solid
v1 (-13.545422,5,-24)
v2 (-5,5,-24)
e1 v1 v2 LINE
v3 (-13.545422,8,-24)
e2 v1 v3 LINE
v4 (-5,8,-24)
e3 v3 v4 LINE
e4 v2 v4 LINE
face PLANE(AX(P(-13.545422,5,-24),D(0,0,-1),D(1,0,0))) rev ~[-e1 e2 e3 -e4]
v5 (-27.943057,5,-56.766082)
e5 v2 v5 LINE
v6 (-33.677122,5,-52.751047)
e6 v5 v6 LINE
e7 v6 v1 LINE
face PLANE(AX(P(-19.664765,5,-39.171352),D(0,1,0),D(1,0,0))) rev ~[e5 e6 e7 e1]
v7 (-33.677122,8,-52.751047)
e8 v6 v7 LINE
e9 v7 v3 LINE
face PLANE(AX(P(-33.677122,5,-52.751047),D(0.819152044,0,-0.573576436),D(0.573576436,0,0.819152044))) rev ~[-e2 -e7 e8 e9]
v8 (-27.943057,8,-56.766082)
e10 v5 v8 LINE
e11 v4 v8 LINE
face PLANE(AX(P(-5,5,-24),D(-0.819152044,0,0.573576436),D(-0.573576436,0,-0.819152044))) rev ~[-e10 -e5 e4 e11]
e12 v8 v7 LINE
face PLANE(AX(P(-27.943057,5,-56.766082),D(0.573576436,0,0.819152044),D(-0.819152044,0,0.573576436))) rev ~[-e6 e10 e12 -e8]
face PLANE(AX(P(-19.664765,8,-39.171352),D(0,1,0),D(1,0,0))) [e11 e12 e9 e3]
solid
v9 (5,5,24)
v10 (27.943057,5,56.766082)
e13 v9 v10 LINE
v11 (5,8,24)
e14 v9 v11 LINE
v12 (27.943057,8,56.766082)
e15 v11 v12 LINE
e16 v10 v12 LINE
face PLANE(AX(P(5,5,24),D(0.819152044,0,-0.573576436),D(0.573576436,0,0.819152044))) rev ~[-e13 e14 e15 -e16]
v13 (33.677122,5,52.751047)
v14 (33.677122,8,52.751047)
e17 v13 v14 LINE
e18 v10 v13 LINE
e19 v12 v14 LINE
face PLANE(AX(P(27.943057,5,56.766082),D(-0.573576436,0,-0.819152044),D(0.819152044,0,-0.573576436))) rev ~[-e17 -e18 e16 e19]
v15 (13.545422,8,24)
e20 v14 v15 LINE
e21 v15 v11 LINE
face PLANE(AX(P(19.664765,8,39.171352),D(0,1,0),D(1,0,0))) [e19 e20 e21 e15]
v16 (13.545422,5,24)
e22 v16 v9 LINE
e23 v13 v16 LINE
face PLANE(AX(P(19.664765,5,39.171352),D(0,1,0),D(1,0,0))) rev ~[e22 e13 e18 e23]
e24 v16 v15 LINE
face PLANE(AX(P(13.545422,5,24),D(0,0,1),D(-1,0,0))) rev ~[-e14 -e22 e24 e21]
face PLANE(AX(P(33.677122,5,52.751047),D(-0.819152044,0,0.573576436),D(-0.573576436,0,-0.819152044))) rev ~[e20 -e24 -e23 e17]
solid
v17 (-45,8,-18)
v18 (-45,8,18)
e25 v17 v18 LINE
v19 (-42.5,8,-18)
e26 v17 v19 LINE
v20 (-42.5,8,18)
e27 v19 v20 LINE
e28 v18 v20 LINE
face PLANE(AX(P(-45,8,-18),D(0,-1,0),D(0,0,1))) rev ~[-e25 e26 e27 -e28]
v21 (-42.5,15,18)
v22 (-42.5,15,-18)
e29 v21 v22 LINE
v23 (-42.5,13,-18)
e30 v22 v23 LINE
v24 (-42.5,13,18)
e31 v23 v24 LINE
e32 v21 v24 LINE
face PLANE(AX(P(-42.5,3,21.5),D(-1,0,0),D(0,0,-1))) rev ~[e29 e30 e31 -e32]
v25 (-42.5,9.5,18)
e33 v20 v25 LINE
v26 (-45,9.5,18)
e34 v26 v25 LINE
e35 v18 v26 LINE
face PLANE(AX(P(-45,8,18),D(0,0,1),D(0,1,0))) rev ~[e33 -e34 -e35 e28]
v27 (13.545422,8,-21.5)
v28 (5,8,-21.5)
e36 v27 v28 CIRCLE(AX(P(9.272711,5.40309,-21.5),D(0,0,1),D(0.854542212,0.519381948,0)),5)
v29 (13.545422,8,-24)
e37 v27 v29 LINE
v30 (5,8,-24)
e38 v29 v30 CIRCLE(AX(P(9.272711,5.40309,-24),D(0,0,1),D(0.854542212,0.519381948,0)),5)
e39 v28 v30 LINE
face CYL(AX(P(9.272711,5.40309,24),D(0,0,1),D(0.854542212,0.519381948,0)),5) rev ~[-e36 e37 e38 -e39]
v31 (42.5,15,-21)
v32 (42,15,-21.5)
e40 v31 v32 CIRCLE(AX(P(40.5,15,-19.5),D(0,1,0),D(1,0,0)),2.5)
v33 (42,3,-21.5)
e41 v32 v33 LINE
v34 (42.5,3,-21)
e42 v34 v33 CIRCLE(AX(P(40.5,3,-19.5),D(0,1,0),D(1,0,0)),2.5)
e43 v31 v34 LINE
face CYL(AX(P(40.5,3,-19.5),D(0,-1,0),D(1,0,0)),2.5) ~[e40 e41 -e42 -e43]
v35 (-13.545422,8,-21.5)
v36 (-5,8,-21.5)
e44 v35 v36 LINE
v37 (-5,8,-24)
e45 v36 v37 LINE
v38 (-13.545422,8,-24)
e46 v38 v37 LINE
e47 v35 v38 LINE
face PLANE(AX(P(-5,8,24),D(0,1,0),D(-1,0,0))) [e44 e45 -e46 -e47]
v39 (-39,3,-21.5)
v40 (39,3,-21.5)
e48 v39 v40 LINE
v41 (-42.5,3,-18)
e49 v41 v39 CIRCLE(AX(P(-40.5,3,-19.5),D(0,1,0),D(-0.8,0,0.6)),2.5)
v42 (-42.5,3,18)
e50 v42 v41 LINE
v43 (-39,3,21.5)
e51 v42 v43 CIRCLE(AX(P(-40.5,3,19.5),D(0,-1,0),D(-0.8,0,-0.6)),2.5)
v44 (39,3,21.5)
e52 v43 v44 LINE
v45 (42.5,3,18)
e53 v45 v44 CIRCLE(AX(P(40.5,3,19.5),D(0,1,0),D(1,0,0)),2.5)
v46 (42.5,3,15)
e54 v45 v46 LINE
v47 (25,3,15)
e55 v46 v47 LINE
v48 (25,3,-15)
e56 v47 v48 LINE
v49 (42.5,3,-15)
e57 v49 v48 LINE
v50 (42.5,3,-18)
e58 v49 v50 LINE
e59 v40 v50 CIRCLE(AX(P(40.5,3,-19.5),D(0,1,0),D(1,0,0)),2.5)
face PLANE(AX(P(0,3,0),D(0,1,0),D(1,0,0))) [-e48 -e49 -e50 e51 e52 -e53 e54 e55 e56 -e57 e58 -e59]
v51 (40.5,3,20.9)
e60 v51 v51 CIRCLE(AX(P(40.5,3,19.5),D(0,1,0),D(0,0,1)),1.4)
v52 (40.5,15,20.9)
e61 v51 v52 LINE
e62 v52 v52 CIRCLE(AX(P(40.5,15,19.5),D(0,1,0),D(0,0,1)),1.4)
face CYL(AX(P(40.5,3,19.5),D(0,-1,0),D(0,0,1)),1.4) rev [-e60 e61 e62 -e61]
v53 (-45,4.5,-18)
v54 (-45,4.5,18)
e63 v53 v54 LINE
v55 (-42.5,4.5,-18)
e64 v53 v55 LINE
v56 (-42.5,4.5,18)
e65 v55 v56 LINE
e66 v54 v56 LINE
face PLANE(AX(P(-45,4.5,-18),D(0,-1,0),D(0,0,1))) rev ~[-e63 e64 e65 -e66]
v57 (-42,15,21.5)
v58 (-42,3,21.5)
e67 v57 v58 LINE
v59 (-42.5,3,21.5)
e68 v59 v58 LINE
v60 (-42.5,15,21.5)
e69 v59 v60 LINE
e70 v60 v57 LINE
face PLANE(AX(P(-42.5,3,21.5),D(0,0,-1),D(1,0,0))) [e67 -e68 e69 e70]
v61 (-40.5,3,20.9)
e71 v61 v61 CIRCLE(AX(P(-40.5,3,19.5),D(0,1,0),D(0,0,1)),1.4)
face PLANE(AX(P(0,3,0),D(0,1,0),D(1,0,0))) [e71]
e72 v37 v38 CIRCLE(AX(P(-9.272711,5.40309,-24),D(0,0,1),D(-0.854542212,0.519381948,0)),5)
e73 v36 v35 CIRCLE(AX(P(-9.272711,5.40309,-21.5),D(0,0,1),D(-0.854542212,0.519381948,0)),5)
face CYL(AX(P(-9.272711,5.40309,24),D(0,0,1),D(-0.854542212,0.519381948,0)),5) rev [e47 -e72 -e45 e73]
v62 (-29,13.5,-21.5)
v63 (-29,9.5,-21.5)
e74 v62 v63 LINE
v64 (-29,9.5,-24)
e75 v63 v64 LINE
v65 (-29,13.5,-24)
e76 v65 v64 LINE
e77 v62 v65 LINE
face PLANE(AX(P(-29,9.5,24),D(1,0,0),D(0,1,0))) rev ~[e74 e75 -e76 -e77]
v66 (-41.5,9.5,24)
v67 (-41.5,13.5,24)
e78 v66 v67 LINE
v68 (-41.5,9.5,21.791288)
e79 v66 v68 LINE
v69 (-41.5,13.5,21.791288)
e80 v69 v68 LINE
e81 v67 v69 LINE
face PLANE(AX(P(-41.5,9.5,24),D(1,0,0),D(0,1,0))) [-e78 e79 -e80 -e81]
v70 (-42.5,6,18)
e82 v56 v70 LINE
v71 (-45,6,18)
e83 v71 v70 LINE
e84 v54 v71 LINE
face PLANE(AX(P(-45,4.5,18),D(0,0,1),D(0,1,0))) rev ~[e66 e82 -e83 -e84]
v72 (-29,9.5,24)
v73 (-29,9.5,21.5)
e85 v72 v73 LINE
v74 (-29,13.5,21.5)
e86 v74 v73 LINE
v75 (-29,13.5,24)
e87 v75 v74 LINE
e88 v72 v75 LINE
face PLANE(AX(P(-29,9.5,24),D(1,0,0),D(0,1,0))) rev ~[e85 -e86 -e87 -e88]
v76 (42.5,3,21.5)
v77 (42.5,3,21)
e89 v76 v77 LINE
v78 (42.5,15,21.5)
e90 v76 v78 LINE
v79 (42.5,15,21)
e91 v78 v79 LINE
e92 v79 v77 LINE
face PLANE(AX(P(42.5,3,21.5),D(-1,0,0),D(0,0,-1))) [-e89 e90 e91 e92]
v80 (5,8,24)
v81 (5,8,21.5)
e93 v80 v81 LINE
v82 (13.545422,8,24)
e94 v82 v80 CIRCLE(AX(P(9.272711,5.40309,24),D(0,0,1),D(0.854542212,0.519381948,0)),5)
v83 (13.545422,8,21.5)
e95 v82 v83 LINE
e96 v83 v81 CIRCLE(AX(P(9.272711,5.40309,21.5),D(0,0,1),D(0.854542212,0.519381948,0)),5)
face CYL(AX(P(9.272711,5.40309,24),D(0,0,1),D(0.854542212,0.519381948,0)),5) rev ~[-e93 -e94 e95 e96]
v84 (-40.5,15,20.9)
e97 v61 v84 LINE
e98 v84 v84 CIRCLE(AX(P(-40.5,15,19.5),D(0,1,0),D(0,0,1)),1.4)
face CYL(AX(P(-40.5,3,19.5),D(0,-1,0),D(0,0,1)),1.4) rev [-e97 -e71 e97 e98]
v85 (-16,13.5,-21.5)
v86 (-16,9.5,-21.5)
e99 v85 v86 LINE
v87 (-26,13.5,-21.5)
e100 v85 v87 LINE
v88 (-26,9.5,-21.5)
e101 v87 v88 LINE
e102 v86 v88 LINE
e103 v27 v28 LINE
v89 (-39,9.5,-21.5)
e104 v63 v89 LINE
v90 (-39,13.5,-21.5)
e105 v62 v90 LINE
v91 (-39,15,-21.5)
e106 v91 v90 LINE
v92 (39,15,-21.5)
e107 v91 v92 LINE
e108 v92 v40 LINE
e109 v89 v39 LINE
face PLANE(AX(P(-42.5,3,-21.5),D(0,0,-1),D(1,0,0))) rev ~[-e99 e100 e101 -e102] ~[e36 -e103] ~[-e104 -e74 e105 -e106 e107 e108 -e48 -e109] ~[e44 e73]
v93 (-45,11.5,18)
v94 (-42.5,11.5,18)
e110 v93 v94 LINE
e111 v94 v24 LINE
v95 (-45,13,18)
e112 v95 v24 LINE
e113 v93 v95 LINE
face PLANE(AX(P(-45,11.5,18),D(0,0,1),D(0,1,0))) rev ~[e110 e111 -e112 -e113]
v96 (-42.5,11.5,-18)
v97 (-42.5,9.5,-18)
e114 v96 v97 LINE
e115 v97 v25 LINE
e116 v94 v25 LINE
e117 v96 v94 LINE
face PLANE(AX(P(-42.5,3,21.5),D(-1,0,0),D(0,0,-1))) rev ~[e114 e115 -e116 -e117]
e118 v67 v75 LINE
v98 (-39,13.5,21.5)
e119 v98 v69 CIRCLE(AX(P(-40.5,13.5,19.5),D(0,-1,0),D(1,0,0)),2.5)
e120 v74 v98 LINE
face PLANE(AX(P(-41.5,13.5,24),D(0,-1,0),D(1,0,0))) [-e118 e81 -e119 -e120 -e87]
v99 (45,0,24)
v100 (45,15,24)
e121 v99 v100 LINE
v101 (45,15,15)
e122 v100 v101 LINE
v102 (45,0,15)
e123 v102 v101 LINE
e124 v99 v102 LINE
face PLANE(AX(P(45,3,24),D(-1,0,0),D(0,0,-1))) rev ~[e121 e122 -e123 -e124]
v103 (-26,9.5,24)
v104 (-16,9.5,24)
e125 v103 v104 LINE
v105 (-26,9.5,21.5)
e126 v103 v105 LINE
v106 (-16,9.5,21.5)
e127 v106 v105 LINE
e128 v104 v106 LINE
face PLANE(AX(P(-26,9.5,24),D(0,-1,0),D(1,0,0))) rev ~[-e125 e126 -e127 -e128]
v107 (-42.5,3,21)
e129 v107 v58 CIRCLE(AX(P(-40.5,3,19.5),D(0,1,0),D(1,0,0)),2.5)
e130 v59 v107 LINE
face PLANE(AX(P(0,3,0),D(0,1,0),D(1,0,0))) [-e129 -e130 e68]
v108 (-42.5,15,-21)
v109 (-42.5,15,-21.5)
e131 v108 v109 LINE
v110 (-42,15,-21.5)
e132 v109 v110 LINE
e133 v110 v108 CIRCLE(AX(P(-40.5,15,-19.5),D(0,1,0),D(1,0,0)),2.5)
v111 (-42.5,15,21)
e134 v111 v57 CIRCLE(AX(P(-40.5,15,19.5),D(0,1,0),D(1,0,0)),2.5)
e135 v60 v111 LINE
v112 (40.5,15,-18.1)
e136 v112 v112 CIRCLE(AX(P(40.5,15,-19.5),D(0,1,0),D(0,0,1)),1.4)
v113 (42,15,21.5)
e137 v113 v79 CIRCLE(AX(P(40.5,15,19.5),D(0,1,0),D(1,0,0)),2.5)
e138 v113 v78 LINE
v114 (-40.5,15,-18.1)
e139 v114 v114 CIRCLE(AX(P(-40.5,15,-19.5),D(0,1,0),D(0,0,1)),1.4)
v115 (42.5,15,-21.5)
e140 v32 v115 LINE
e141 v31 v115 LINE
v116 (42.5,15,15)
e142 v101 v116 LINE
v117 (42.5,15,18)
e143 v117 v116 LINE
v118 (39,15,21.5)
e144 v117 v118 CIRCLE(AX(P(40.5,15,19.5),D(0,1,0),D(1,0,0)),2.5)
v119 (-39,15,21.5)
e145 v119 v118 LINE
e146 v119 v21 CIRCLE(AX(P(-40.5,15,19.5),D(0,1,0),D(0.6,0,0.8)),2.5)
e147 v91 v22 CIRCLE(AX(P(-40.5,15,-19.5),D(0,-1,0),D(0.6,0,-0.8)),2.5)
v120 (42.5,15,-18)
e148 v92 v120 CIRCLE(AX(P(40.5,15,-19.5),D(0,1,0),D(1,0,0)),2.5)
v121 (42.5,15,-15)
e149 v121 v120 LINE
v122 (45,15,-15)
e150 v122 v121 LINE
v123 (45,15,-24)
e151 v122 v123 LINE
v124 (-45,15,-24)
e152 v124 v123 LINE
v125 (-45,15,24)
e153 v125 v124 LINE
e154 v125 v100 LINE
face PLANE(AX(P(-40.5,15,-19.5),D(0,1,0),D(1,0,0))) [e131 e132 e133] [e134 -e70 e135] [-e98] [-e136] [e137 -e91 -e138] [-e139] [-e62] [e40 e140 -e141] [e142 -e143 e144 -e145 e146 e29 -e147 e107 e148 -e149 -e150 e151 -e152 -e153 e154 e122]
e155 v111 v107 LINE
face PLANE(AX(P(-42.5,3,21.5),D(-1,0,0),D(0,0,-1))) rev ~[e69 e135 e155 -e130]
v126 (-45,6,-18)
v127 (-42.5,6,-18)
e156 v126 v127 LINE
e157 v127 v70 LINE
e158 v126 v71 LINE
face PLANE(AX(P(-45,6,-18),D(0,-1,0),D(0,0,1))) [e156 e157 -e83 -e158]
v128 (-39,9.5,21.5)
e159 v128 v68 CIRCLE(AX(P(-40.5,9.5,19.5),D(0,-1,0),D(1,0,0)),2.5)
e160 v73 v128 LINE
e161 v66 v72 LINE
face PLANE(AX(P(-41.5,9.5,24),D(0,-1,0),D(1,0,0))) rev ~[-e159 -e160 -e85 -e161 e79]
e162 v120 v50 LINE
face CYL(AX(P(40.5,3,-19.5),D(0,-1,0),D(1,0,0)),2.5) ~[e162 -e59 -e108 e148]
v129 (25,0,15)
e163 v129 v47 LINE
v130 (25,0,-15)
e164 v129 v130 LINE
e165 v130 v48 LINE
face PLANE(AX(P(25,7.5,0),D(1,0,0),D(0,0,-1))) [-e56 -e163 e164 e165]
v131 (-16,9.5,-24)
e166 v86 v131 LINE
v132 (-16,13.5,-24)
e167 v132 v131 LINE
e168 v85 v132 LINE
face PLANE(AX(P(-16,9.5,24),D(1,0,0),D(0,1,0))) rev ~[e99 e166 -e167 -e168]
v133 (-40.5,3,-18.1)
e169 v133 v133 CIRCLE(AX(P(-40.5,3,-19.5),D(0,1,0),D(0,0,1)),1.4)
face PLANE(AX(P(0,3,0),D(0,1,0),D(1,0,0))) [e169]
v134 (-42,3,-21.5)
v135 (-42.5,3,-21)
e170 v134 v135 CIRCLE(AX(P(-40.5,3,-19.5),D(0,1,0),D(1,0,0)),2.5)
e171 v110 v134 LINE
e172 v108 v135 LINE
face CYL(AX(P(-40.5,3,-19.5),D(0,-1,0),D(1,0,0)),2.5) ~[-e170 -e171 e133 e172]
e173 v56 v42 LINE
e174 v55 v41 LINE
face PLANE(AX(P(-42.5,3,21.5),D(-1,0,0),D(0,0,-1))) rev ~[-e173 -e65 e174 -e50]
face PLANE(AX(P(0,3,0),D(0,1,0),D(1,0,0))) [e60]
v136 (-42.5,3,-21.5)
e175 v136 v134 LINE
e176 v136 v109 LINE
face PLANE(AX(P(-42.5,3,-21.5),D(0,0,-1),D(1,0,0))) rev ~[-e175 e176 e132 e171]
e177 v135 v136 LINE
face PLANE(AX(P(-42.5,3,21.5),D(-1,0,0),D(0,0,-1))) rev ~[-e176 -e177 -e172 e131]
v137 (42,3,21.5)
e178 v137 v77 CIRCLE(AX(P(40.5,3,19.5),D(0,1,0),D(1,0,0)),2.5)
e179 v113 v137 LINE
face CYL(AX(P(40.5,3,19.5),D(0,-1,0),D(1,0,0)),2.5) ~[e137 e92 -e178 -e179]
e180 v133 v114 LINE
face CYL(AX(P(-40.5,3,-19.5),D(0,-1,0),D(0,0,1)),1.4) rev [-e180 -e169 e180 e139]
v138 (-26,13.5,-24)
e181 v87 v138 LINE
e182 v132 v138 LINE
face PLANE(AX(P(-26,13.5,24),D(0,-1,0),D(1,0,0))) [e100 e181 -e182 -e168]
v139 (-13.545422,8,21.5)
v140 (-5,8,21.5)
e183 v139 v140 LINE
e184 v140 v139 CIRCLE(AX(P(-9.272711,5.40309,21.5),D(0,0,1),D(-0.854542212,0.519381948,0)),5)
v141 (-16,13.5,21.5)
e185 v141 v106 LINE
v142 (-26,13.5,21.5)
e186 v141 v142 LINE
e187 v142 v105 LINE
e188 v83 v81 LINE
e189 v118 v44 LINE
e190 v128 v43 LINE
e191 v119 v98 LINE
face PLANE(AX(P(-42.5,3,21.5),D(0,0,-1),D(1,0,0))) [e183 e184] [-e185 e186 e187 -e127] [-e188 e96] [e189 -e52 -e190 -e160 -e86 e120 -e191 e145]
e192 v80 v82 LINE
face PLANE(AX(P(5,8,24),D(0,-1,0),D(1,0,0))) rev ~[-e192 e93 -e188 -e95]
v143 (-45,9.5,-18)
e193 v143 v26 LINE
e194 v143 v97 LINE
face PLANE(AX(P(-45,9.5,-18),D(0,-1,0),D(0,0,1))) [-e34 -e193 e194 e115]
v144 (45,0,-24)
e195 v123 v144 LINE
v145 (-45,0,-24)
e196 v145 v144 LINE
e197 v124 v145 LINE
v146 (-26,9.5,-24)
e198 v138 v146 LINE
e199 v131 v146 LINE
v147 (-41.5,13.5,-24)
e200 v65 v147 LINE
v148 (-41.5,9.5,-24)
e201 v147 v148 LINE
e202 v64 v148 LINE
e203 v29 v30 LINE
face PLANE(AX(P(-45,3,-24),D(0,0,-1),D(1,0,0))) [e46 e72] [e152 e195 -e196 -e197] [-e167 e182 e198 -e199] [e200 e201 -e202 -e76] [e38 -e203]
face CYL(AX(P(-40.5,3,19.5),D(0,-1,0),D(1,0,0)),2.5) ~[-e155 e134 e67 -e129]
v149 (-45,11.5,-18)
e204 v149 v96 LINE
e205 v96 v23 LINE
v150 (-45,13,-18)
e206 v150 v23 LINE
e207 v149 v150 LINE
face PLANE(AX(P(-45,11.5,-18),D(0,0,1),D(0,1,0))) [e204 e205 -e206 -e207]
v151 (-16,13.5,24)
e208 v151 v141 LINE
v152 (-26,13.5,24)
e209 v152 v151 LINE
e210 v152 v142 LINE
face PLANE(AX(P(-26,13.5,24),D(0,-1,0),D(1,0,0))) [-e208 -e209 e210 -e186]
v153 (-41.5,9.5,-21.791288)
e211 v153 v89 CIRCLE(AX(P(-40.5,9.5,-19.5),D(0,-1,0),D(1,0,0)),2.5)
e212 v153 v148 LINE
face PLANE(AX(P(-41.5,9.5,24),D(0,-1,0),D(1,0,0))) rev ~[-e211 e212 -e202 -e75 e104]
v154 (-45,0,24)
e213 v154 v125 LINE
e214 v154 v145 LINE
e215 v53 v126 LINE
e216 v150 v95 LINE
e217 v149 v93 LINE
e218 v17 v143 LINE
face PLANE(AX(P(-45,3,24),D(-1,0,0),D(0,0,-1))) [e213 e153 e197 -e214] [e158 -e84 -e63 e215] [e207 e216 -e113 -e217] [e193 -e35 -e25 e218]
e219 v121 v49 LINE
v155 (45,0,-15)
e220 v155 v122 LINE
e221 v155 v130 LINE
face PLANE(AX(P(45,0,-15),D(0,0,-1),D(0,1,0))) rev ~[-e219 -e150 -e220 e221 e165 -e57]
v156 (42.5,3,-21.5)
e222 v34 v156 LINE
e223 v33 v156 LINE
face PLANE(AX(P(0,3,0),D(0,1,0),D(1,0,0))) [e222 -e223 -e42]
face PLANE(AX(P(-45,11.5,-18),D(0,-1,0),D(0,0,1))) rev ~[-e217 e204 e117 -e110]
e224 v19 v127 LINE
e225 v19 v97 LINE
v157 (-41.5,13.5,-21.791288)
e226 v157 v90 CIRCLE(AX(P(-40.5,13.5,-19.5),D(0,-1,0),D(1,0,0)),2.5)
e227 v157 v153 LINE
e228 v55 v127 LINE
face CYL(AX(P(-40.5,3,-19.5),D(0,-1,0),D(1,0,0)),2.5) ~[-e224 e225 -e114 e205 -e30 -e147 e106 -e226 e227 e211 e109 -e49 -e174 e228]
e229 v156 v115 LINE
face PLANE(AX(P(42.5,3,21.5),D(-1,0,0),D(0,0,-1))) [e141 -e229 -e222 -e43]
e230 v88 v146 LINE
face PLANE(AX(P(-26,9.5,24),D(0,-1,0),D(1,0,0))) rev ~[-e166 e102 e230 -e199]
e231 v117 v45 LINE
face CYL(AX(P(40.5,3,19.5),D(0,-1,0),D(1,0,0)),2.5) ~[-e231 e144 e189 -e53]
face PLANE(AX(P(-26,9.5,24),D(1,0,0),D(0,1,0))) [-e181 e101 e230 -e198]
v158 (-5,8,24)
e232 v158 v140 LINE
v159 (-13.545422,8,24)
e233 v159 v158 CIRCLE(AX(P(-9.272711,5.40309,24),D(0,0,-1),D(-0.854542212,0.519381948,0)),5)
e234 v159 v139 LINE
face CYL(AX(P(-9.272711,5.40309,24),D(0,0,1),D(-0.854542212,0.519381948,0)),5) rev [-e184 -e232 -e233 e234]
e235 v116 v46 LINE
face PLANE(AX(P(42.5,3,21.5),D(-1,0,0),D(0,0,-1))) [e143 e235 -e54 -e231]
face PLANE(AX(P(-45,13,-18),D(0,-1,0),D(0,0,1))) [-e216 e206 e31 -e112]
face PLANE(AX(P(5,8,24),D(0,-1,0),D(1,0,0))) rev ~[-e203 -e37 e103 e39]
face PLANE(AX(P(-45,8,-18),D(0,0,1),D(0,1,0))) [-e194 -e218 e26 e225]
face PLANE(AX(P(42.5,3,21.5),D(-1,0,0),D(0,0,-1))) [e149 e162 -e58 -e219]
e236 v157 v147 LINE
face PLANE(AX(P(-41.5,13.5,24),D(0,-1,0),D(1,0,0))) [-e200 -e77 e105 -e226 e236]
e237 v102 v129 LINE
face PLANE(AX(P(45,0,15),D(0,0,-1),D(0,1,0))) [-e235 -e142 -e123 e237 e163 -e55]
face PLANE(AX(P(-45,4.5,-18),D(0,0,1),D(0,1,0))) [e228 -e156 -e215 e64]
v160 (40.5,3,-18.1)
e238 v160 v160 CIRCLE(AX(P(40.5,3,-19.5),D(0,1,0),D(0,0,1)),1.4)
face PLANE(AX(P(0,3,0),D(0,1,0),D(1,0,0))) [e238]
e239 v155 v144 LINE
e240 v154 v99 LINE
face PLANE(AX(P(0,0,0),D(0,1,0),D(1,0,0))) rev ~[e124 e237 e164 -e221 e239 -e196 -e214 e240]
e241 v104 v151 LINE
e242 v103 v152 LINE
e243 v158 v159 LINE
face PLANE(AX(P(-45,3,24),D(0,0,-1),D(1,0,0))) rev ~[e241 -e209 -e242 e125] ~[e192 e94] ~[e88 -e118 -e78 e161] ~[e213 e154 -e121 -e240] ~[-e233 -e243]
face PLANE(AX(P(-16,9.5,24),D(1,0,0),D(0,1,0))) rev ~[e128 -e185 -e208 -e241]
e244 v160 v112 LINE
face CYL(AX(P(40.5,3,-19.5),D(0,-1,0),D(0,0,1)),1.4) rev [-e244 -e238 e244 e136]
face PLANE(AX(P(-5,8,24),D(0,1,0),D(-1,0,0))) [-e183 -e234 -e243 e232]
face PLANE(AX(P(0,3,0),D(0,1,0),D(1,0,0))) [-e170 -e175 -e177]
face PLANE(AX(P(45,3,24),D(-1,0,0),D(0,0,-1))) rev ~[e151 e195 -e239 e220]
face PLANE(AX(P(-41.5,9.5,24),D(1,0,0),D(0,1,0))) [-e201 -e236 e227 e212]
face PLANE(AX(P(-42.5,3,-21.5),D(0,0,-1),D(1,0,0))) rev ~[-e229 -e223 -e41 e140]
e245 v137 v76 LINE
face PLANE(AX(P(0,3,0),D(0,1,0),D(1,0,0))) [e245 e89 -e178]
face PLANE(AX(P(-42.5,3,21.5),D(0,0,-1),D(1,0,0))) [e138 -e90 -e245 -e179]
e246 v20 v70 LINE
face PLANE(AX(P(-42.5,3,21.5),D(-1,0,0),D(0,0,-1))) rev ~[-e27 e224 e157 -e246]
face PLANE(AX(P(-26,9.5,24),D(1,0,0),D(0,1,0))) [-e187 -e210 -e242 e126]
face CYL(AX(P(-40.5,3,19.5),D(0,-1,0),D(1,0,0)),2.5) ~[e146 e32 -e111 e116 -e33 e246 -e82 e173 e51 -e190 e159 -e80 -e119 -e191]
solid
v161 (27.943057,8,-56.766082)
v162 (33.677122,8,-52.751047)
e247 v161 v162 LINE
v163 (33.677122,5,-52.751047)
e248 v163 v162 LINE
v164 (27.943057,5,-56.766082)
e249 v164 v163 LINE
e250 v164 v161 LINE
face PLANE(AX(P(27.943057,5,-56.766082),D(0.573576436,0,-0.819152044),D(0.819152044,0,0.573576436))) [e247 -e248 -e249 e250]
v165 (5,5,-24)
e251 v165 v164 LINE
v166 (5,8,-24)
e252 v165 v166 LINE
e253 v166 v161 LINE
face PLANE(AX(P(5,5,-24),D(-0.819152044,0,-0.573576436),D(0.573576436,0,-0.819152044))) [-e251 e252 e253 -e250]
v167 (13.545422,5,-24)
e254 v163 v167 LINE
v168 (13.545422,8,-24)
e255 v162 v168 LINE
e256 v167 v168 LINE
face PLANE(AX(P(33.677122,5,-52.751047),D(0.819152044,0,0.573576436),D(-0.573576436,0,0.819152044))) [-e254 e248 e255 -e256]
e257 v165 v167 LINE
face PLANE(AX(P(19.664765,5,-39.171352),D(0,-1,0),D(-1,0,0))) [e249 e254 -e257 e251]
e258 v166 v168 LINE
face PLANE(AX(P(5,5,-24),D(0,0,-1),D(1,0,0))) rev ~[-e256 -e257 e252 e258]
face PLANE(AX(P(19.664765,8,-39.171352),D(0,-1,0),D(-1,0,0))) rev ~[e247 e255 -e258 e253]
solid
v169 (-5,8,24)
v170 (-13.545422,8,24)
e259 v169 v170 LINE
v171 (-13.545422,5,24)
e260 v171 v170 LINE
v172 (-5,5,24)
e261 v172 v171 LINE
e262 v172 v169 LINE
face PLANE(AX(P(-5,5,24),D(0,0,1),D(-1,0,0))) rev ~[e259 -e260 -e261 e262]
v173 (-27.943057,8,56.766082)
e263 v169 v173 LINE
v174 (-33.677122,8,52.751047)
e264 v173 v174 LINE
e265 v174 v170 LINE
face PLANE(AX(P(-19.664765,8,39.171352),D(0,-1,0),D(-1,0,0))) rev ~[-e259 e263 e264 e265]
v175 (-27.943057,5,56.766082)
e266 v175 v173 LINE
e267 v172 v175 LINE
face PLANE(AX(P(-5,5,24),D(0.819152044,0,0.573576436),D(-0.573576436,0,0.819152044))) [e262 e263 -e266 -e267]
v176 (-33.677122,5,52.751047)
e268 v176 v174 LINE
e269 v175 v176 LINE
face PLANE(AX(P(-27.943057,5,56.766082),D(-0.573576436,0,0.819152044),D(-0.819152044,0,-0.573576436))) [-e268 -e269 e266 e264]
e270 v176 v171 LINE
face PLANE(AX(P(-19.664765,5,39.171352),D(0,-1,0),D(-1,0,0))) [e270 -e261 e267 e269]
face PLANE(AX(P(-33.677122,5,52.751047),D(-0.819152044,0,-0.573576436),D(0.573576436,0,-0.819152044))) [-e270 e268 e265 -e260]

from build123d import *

# Parameters (mm, degrees)
SKICA1_W                  = 90
SKICA1_H                  = 48
P_IDAT_VYSUNUT_M1_DEPTH   = 3
P_IDAT_START              = 5
P_IDAT_VYSUNUT_M2_DEPTH   = 3
P_IDAT_VYSUNUT_M2_2_DEPTH = 3
P_IDAT_VYSUNUT_M2_3_DEPTH = 3
P_IDAT_VYSUNUT_M2_4_DEPTH = 3
SKICA3_W                  = 90
SKICA3_H                  = 48
SKICA3_W_2                = 85
SKICA3_H_2                = 43
P_IDAT_VYSUNUT_M3_DEPTH   = 12
SKICA4_W                  = 30
SKICA4_H                  = 15
ODEBRAT_VYSUNUT_M1_DEPTH  = 20
SKICA10_W                 = 12.5
SKICA10_H                 = 4
SKICA10_W_2               = 10
ODEBRAT_VYSUNUT_M5_DEPTH  = 50
SKICA11_W                 = 36
SKICA11_H                 = 1.5
ODEBRAT_VYSUNUT_M6_DEPTH  = 5
ODEBRAT_VYSUNUT_M7_DEPTH  = 50
SKICA14_R                 = 2.5
SKICA14_R_2               = 1.4
P_IDAT_VYSUNUT_M4_DEPTH   = 12


with BuildPart() as part:
    # Skica1 → Přidat vysunutím1 (new body)
    with BuildSketch(Plane(origin=(0, 0, 0), x_dir=(1, 0, 0), z_dir=(0, 1, 0))):
        Rectangle(SKICA1_W, SKICA1_H)
    extrude(amount=P_IDAT_VYSUNUT_M1_DEPTH)

    # Skica3 → Přidat vysunutím3 (add)
    with BuildSketch(Plane(origin=(0, 3, 0), x_dir=(1, 0, 0), z_dir=(0, 1, 0))):
        Rectangle(SKICA3_W, SKICA3_H)
        Rectangle(SKICA3_W_2, SKICA3_H_2, mode=Mode.SUBTRACT)
    extrude(amount=P_IDAT_VYSUNUT_M3_DEPTH)

    # Skica4 → Odebrat vysunutím1 (cut)
    with BuildSketch(Plane(origin=(45, 0, 0), x_dir=(0, 0, -1), z_dir=(1, 0, 0))):
        with Locations((0, 7.5)):
            Rectangle(SKICA4_W, SKICA4_H)
    extrude(amount=-ODEBRAT_VYSUNUT_M1_DEPTH, mode=Mode.SUBTRACT)

    # Skica10 → Odebrat vysunutím5 (cut)
    with BuildSketch(Plane.XY.offset(24)):
        with Locations((-35.25, 11.5)):
            Rectangle(SKICA10_W, SKICA10_H)
        with Locations((-21, 11.5)):
            Rectangle(SKICA10_W_2, SKICA10_H)
    extrude(amount=-ODEBRAT_VYSUNUT_M5_DEPTH, mode=Mode.SUBTRACT)

    # Skica11 → Odebrat vysunutím6 (cut)
    with BuildSketch(Plane.ZY.offset(45)):
        with Locations((0, 12.25)):
            Rectangle(SKICA11_W, SKICA11_H)
        with Locations((0, 8.75)):
            Rectangle(SKICA11_W, SKICA11_H)
        with Locations((0, 5.25)):
            Rectangle(SKICA11_W, SKICA11_H)
    extrude(amount=-ODEBRAT_VYSUNUT_M6_DEPTH, mode=Mode.SUBTRACT)

    # Skica12 → Odebrat vysunutím7 (cut)
    with BuildSketch(Plane.XY.offset(24)):
        with BuildLine():
            Line((-5, 8), (-13.545422121, 8))
            ThreePointArc((-13.545422121, 8), (-9.272711061, 10.403090261), (-5, 8))
        make_face()
        with BuildLine():
            Line((5, 8), (13.545422121, 8))
            ThreePointArc((13.545422121, 8), (9.272711061, 10.403090261), (5, 8))
        make_face()
    extrude(amount=-ODEBRAT_VYSUNUT_M7_DEPTH, mode=Mode.SUBTRACT)

    # Skica14 → Přidat vysunutím4 (add)
    # profile 1 of 4: a face of its own
    with BuildSketch(Plane(origin=(0, 3, 0), x_dir=(1, 0, 0), z_dir=(0, 1, 0))):
        with Locations((-40.5, 19.5)):
            Circle(SKICA14_R)
        with Locations(Location((-40.5, 19.5, 0), (0, 0, 270))):
            Circle(SKICA14_R_2, mode=Mode.SUBTRACT)
    # profile 2 of 4: a face of its own
    with BuildSketch(Plane(origin=(0, 3, 0), x_dir=(1, 0, 0), z_dir=(0, 1, 0))):
        with Locations((-40.5, -19.5)):
            Circle(SKICA14_R)
        with Locations(Location((-40.5, -19.5, 0), (0, 0, 270))):
            Circle(SKICA14_R_2, mode=Mode.SUBTRACT)
    # profile 3 of 4: a face of its own
    with BuildSketch(Plane(origin=(0, 3, 0), x_dir=(1, 0, 0), z_dir=(0, 1, 0))):
        with Locations((40.5, -19.5)):
            Circle(SKICA14_R)
        with Locations(Location((40.5, -19.5, 0), (0, 0, 270))):
            Circle(SKICA14_R_2, mode=Mode.SUBTRACT)
    # profile 4 of 4: a face of its own
    with BuildSketch(Plane(origin=(0, 3, 0), x_dir=(1, 0, 0), z_dir=(0, 1, 0))):
        with Locations((40.5, 19.5)):
            Circle(SKICA14_R)
        with Locations(Location((40.5, 19.5, 0), (0, 0, 270))):
            Circle(SKICA14_R_2, mode=Mode.SUBTRACT)
    extrude(amount=P_IDAT_VYSUNUT_M4_DEPTH)


with BuildPart() as body_2:
    # Skica2 → Přidat vysunutím2 (new body)
    with BuildSketch(Plane(origin=(0, 0, 0), x_dir=(1, 0, 0), z_dir=(0, 1, 0)).offset(P_IDAT_START)):
        Polygon((-33.677121764, -52.751046717), (-13.545422121, -24), (-11.103872944, -24), (-5, -24), (-27.943057454, -56.766081772), align=None)
    extrude(amount=P_IDAT_VYSUNUT_M2_DEPTH)


with BuildPart() as body_3:
    # Skica2 → P_idat vysunut_m2 2 (new body)
    with BuildSketch(Plane(origin=(0, 0, 0), x_dir=(1, 0, 0), z_dir=(0, 1, 0)).offset(P_IDAT_START)):
        Polygon((5, -24), (27.943057454, -56.766081772), (33.677121764, -52.751046717), (13.545422121, -24), (11.103872944, -24), align=None)
    extrude(amount=P_IDAT_VYSUNUT_M2_2_DEPTH)


with BuildPart() as body_4:
    # Skica2 → P_idat vysunut_m2 3 (new body)
    with BuildSketch(Plane(origin=(0, 0, 0), x_dir=(1, 0, 0), z_dir=(0, 1, 0)).offset(P_IDAT_START)):
        Polygon((-5, 24), (-27.943057454, 56.766081772), (-33.677121764, 52.751046717), (-13.545422121, 24), (-11.103872944, 24), align=None)
    extrude(amount=P_IDAT_VYSUNUT_M2_3_DEPTH)


with BuildPart() as body_5:
    # Skica2 → P_idat vysunut_m2 4 (new body)
    with BuildSketch(Plane(origin=(0, 0, 0), x_dir=(1, 0, 0), z_dir=(0, 1, 0)).offset(P_IDAT_START)):
        Polygon((5, 24), (27.943057454, 56.766081772), (33.677121764, 52.751046717), (13.545422121, 24), (11.103872944, 24), align=None)
    extrude(amount=P_IDAT_VYSUNUT_M2_4_DEPTH)


solid = Compound([part.part, body_2.part, body_3.part, body_4.part, body_5.part])
